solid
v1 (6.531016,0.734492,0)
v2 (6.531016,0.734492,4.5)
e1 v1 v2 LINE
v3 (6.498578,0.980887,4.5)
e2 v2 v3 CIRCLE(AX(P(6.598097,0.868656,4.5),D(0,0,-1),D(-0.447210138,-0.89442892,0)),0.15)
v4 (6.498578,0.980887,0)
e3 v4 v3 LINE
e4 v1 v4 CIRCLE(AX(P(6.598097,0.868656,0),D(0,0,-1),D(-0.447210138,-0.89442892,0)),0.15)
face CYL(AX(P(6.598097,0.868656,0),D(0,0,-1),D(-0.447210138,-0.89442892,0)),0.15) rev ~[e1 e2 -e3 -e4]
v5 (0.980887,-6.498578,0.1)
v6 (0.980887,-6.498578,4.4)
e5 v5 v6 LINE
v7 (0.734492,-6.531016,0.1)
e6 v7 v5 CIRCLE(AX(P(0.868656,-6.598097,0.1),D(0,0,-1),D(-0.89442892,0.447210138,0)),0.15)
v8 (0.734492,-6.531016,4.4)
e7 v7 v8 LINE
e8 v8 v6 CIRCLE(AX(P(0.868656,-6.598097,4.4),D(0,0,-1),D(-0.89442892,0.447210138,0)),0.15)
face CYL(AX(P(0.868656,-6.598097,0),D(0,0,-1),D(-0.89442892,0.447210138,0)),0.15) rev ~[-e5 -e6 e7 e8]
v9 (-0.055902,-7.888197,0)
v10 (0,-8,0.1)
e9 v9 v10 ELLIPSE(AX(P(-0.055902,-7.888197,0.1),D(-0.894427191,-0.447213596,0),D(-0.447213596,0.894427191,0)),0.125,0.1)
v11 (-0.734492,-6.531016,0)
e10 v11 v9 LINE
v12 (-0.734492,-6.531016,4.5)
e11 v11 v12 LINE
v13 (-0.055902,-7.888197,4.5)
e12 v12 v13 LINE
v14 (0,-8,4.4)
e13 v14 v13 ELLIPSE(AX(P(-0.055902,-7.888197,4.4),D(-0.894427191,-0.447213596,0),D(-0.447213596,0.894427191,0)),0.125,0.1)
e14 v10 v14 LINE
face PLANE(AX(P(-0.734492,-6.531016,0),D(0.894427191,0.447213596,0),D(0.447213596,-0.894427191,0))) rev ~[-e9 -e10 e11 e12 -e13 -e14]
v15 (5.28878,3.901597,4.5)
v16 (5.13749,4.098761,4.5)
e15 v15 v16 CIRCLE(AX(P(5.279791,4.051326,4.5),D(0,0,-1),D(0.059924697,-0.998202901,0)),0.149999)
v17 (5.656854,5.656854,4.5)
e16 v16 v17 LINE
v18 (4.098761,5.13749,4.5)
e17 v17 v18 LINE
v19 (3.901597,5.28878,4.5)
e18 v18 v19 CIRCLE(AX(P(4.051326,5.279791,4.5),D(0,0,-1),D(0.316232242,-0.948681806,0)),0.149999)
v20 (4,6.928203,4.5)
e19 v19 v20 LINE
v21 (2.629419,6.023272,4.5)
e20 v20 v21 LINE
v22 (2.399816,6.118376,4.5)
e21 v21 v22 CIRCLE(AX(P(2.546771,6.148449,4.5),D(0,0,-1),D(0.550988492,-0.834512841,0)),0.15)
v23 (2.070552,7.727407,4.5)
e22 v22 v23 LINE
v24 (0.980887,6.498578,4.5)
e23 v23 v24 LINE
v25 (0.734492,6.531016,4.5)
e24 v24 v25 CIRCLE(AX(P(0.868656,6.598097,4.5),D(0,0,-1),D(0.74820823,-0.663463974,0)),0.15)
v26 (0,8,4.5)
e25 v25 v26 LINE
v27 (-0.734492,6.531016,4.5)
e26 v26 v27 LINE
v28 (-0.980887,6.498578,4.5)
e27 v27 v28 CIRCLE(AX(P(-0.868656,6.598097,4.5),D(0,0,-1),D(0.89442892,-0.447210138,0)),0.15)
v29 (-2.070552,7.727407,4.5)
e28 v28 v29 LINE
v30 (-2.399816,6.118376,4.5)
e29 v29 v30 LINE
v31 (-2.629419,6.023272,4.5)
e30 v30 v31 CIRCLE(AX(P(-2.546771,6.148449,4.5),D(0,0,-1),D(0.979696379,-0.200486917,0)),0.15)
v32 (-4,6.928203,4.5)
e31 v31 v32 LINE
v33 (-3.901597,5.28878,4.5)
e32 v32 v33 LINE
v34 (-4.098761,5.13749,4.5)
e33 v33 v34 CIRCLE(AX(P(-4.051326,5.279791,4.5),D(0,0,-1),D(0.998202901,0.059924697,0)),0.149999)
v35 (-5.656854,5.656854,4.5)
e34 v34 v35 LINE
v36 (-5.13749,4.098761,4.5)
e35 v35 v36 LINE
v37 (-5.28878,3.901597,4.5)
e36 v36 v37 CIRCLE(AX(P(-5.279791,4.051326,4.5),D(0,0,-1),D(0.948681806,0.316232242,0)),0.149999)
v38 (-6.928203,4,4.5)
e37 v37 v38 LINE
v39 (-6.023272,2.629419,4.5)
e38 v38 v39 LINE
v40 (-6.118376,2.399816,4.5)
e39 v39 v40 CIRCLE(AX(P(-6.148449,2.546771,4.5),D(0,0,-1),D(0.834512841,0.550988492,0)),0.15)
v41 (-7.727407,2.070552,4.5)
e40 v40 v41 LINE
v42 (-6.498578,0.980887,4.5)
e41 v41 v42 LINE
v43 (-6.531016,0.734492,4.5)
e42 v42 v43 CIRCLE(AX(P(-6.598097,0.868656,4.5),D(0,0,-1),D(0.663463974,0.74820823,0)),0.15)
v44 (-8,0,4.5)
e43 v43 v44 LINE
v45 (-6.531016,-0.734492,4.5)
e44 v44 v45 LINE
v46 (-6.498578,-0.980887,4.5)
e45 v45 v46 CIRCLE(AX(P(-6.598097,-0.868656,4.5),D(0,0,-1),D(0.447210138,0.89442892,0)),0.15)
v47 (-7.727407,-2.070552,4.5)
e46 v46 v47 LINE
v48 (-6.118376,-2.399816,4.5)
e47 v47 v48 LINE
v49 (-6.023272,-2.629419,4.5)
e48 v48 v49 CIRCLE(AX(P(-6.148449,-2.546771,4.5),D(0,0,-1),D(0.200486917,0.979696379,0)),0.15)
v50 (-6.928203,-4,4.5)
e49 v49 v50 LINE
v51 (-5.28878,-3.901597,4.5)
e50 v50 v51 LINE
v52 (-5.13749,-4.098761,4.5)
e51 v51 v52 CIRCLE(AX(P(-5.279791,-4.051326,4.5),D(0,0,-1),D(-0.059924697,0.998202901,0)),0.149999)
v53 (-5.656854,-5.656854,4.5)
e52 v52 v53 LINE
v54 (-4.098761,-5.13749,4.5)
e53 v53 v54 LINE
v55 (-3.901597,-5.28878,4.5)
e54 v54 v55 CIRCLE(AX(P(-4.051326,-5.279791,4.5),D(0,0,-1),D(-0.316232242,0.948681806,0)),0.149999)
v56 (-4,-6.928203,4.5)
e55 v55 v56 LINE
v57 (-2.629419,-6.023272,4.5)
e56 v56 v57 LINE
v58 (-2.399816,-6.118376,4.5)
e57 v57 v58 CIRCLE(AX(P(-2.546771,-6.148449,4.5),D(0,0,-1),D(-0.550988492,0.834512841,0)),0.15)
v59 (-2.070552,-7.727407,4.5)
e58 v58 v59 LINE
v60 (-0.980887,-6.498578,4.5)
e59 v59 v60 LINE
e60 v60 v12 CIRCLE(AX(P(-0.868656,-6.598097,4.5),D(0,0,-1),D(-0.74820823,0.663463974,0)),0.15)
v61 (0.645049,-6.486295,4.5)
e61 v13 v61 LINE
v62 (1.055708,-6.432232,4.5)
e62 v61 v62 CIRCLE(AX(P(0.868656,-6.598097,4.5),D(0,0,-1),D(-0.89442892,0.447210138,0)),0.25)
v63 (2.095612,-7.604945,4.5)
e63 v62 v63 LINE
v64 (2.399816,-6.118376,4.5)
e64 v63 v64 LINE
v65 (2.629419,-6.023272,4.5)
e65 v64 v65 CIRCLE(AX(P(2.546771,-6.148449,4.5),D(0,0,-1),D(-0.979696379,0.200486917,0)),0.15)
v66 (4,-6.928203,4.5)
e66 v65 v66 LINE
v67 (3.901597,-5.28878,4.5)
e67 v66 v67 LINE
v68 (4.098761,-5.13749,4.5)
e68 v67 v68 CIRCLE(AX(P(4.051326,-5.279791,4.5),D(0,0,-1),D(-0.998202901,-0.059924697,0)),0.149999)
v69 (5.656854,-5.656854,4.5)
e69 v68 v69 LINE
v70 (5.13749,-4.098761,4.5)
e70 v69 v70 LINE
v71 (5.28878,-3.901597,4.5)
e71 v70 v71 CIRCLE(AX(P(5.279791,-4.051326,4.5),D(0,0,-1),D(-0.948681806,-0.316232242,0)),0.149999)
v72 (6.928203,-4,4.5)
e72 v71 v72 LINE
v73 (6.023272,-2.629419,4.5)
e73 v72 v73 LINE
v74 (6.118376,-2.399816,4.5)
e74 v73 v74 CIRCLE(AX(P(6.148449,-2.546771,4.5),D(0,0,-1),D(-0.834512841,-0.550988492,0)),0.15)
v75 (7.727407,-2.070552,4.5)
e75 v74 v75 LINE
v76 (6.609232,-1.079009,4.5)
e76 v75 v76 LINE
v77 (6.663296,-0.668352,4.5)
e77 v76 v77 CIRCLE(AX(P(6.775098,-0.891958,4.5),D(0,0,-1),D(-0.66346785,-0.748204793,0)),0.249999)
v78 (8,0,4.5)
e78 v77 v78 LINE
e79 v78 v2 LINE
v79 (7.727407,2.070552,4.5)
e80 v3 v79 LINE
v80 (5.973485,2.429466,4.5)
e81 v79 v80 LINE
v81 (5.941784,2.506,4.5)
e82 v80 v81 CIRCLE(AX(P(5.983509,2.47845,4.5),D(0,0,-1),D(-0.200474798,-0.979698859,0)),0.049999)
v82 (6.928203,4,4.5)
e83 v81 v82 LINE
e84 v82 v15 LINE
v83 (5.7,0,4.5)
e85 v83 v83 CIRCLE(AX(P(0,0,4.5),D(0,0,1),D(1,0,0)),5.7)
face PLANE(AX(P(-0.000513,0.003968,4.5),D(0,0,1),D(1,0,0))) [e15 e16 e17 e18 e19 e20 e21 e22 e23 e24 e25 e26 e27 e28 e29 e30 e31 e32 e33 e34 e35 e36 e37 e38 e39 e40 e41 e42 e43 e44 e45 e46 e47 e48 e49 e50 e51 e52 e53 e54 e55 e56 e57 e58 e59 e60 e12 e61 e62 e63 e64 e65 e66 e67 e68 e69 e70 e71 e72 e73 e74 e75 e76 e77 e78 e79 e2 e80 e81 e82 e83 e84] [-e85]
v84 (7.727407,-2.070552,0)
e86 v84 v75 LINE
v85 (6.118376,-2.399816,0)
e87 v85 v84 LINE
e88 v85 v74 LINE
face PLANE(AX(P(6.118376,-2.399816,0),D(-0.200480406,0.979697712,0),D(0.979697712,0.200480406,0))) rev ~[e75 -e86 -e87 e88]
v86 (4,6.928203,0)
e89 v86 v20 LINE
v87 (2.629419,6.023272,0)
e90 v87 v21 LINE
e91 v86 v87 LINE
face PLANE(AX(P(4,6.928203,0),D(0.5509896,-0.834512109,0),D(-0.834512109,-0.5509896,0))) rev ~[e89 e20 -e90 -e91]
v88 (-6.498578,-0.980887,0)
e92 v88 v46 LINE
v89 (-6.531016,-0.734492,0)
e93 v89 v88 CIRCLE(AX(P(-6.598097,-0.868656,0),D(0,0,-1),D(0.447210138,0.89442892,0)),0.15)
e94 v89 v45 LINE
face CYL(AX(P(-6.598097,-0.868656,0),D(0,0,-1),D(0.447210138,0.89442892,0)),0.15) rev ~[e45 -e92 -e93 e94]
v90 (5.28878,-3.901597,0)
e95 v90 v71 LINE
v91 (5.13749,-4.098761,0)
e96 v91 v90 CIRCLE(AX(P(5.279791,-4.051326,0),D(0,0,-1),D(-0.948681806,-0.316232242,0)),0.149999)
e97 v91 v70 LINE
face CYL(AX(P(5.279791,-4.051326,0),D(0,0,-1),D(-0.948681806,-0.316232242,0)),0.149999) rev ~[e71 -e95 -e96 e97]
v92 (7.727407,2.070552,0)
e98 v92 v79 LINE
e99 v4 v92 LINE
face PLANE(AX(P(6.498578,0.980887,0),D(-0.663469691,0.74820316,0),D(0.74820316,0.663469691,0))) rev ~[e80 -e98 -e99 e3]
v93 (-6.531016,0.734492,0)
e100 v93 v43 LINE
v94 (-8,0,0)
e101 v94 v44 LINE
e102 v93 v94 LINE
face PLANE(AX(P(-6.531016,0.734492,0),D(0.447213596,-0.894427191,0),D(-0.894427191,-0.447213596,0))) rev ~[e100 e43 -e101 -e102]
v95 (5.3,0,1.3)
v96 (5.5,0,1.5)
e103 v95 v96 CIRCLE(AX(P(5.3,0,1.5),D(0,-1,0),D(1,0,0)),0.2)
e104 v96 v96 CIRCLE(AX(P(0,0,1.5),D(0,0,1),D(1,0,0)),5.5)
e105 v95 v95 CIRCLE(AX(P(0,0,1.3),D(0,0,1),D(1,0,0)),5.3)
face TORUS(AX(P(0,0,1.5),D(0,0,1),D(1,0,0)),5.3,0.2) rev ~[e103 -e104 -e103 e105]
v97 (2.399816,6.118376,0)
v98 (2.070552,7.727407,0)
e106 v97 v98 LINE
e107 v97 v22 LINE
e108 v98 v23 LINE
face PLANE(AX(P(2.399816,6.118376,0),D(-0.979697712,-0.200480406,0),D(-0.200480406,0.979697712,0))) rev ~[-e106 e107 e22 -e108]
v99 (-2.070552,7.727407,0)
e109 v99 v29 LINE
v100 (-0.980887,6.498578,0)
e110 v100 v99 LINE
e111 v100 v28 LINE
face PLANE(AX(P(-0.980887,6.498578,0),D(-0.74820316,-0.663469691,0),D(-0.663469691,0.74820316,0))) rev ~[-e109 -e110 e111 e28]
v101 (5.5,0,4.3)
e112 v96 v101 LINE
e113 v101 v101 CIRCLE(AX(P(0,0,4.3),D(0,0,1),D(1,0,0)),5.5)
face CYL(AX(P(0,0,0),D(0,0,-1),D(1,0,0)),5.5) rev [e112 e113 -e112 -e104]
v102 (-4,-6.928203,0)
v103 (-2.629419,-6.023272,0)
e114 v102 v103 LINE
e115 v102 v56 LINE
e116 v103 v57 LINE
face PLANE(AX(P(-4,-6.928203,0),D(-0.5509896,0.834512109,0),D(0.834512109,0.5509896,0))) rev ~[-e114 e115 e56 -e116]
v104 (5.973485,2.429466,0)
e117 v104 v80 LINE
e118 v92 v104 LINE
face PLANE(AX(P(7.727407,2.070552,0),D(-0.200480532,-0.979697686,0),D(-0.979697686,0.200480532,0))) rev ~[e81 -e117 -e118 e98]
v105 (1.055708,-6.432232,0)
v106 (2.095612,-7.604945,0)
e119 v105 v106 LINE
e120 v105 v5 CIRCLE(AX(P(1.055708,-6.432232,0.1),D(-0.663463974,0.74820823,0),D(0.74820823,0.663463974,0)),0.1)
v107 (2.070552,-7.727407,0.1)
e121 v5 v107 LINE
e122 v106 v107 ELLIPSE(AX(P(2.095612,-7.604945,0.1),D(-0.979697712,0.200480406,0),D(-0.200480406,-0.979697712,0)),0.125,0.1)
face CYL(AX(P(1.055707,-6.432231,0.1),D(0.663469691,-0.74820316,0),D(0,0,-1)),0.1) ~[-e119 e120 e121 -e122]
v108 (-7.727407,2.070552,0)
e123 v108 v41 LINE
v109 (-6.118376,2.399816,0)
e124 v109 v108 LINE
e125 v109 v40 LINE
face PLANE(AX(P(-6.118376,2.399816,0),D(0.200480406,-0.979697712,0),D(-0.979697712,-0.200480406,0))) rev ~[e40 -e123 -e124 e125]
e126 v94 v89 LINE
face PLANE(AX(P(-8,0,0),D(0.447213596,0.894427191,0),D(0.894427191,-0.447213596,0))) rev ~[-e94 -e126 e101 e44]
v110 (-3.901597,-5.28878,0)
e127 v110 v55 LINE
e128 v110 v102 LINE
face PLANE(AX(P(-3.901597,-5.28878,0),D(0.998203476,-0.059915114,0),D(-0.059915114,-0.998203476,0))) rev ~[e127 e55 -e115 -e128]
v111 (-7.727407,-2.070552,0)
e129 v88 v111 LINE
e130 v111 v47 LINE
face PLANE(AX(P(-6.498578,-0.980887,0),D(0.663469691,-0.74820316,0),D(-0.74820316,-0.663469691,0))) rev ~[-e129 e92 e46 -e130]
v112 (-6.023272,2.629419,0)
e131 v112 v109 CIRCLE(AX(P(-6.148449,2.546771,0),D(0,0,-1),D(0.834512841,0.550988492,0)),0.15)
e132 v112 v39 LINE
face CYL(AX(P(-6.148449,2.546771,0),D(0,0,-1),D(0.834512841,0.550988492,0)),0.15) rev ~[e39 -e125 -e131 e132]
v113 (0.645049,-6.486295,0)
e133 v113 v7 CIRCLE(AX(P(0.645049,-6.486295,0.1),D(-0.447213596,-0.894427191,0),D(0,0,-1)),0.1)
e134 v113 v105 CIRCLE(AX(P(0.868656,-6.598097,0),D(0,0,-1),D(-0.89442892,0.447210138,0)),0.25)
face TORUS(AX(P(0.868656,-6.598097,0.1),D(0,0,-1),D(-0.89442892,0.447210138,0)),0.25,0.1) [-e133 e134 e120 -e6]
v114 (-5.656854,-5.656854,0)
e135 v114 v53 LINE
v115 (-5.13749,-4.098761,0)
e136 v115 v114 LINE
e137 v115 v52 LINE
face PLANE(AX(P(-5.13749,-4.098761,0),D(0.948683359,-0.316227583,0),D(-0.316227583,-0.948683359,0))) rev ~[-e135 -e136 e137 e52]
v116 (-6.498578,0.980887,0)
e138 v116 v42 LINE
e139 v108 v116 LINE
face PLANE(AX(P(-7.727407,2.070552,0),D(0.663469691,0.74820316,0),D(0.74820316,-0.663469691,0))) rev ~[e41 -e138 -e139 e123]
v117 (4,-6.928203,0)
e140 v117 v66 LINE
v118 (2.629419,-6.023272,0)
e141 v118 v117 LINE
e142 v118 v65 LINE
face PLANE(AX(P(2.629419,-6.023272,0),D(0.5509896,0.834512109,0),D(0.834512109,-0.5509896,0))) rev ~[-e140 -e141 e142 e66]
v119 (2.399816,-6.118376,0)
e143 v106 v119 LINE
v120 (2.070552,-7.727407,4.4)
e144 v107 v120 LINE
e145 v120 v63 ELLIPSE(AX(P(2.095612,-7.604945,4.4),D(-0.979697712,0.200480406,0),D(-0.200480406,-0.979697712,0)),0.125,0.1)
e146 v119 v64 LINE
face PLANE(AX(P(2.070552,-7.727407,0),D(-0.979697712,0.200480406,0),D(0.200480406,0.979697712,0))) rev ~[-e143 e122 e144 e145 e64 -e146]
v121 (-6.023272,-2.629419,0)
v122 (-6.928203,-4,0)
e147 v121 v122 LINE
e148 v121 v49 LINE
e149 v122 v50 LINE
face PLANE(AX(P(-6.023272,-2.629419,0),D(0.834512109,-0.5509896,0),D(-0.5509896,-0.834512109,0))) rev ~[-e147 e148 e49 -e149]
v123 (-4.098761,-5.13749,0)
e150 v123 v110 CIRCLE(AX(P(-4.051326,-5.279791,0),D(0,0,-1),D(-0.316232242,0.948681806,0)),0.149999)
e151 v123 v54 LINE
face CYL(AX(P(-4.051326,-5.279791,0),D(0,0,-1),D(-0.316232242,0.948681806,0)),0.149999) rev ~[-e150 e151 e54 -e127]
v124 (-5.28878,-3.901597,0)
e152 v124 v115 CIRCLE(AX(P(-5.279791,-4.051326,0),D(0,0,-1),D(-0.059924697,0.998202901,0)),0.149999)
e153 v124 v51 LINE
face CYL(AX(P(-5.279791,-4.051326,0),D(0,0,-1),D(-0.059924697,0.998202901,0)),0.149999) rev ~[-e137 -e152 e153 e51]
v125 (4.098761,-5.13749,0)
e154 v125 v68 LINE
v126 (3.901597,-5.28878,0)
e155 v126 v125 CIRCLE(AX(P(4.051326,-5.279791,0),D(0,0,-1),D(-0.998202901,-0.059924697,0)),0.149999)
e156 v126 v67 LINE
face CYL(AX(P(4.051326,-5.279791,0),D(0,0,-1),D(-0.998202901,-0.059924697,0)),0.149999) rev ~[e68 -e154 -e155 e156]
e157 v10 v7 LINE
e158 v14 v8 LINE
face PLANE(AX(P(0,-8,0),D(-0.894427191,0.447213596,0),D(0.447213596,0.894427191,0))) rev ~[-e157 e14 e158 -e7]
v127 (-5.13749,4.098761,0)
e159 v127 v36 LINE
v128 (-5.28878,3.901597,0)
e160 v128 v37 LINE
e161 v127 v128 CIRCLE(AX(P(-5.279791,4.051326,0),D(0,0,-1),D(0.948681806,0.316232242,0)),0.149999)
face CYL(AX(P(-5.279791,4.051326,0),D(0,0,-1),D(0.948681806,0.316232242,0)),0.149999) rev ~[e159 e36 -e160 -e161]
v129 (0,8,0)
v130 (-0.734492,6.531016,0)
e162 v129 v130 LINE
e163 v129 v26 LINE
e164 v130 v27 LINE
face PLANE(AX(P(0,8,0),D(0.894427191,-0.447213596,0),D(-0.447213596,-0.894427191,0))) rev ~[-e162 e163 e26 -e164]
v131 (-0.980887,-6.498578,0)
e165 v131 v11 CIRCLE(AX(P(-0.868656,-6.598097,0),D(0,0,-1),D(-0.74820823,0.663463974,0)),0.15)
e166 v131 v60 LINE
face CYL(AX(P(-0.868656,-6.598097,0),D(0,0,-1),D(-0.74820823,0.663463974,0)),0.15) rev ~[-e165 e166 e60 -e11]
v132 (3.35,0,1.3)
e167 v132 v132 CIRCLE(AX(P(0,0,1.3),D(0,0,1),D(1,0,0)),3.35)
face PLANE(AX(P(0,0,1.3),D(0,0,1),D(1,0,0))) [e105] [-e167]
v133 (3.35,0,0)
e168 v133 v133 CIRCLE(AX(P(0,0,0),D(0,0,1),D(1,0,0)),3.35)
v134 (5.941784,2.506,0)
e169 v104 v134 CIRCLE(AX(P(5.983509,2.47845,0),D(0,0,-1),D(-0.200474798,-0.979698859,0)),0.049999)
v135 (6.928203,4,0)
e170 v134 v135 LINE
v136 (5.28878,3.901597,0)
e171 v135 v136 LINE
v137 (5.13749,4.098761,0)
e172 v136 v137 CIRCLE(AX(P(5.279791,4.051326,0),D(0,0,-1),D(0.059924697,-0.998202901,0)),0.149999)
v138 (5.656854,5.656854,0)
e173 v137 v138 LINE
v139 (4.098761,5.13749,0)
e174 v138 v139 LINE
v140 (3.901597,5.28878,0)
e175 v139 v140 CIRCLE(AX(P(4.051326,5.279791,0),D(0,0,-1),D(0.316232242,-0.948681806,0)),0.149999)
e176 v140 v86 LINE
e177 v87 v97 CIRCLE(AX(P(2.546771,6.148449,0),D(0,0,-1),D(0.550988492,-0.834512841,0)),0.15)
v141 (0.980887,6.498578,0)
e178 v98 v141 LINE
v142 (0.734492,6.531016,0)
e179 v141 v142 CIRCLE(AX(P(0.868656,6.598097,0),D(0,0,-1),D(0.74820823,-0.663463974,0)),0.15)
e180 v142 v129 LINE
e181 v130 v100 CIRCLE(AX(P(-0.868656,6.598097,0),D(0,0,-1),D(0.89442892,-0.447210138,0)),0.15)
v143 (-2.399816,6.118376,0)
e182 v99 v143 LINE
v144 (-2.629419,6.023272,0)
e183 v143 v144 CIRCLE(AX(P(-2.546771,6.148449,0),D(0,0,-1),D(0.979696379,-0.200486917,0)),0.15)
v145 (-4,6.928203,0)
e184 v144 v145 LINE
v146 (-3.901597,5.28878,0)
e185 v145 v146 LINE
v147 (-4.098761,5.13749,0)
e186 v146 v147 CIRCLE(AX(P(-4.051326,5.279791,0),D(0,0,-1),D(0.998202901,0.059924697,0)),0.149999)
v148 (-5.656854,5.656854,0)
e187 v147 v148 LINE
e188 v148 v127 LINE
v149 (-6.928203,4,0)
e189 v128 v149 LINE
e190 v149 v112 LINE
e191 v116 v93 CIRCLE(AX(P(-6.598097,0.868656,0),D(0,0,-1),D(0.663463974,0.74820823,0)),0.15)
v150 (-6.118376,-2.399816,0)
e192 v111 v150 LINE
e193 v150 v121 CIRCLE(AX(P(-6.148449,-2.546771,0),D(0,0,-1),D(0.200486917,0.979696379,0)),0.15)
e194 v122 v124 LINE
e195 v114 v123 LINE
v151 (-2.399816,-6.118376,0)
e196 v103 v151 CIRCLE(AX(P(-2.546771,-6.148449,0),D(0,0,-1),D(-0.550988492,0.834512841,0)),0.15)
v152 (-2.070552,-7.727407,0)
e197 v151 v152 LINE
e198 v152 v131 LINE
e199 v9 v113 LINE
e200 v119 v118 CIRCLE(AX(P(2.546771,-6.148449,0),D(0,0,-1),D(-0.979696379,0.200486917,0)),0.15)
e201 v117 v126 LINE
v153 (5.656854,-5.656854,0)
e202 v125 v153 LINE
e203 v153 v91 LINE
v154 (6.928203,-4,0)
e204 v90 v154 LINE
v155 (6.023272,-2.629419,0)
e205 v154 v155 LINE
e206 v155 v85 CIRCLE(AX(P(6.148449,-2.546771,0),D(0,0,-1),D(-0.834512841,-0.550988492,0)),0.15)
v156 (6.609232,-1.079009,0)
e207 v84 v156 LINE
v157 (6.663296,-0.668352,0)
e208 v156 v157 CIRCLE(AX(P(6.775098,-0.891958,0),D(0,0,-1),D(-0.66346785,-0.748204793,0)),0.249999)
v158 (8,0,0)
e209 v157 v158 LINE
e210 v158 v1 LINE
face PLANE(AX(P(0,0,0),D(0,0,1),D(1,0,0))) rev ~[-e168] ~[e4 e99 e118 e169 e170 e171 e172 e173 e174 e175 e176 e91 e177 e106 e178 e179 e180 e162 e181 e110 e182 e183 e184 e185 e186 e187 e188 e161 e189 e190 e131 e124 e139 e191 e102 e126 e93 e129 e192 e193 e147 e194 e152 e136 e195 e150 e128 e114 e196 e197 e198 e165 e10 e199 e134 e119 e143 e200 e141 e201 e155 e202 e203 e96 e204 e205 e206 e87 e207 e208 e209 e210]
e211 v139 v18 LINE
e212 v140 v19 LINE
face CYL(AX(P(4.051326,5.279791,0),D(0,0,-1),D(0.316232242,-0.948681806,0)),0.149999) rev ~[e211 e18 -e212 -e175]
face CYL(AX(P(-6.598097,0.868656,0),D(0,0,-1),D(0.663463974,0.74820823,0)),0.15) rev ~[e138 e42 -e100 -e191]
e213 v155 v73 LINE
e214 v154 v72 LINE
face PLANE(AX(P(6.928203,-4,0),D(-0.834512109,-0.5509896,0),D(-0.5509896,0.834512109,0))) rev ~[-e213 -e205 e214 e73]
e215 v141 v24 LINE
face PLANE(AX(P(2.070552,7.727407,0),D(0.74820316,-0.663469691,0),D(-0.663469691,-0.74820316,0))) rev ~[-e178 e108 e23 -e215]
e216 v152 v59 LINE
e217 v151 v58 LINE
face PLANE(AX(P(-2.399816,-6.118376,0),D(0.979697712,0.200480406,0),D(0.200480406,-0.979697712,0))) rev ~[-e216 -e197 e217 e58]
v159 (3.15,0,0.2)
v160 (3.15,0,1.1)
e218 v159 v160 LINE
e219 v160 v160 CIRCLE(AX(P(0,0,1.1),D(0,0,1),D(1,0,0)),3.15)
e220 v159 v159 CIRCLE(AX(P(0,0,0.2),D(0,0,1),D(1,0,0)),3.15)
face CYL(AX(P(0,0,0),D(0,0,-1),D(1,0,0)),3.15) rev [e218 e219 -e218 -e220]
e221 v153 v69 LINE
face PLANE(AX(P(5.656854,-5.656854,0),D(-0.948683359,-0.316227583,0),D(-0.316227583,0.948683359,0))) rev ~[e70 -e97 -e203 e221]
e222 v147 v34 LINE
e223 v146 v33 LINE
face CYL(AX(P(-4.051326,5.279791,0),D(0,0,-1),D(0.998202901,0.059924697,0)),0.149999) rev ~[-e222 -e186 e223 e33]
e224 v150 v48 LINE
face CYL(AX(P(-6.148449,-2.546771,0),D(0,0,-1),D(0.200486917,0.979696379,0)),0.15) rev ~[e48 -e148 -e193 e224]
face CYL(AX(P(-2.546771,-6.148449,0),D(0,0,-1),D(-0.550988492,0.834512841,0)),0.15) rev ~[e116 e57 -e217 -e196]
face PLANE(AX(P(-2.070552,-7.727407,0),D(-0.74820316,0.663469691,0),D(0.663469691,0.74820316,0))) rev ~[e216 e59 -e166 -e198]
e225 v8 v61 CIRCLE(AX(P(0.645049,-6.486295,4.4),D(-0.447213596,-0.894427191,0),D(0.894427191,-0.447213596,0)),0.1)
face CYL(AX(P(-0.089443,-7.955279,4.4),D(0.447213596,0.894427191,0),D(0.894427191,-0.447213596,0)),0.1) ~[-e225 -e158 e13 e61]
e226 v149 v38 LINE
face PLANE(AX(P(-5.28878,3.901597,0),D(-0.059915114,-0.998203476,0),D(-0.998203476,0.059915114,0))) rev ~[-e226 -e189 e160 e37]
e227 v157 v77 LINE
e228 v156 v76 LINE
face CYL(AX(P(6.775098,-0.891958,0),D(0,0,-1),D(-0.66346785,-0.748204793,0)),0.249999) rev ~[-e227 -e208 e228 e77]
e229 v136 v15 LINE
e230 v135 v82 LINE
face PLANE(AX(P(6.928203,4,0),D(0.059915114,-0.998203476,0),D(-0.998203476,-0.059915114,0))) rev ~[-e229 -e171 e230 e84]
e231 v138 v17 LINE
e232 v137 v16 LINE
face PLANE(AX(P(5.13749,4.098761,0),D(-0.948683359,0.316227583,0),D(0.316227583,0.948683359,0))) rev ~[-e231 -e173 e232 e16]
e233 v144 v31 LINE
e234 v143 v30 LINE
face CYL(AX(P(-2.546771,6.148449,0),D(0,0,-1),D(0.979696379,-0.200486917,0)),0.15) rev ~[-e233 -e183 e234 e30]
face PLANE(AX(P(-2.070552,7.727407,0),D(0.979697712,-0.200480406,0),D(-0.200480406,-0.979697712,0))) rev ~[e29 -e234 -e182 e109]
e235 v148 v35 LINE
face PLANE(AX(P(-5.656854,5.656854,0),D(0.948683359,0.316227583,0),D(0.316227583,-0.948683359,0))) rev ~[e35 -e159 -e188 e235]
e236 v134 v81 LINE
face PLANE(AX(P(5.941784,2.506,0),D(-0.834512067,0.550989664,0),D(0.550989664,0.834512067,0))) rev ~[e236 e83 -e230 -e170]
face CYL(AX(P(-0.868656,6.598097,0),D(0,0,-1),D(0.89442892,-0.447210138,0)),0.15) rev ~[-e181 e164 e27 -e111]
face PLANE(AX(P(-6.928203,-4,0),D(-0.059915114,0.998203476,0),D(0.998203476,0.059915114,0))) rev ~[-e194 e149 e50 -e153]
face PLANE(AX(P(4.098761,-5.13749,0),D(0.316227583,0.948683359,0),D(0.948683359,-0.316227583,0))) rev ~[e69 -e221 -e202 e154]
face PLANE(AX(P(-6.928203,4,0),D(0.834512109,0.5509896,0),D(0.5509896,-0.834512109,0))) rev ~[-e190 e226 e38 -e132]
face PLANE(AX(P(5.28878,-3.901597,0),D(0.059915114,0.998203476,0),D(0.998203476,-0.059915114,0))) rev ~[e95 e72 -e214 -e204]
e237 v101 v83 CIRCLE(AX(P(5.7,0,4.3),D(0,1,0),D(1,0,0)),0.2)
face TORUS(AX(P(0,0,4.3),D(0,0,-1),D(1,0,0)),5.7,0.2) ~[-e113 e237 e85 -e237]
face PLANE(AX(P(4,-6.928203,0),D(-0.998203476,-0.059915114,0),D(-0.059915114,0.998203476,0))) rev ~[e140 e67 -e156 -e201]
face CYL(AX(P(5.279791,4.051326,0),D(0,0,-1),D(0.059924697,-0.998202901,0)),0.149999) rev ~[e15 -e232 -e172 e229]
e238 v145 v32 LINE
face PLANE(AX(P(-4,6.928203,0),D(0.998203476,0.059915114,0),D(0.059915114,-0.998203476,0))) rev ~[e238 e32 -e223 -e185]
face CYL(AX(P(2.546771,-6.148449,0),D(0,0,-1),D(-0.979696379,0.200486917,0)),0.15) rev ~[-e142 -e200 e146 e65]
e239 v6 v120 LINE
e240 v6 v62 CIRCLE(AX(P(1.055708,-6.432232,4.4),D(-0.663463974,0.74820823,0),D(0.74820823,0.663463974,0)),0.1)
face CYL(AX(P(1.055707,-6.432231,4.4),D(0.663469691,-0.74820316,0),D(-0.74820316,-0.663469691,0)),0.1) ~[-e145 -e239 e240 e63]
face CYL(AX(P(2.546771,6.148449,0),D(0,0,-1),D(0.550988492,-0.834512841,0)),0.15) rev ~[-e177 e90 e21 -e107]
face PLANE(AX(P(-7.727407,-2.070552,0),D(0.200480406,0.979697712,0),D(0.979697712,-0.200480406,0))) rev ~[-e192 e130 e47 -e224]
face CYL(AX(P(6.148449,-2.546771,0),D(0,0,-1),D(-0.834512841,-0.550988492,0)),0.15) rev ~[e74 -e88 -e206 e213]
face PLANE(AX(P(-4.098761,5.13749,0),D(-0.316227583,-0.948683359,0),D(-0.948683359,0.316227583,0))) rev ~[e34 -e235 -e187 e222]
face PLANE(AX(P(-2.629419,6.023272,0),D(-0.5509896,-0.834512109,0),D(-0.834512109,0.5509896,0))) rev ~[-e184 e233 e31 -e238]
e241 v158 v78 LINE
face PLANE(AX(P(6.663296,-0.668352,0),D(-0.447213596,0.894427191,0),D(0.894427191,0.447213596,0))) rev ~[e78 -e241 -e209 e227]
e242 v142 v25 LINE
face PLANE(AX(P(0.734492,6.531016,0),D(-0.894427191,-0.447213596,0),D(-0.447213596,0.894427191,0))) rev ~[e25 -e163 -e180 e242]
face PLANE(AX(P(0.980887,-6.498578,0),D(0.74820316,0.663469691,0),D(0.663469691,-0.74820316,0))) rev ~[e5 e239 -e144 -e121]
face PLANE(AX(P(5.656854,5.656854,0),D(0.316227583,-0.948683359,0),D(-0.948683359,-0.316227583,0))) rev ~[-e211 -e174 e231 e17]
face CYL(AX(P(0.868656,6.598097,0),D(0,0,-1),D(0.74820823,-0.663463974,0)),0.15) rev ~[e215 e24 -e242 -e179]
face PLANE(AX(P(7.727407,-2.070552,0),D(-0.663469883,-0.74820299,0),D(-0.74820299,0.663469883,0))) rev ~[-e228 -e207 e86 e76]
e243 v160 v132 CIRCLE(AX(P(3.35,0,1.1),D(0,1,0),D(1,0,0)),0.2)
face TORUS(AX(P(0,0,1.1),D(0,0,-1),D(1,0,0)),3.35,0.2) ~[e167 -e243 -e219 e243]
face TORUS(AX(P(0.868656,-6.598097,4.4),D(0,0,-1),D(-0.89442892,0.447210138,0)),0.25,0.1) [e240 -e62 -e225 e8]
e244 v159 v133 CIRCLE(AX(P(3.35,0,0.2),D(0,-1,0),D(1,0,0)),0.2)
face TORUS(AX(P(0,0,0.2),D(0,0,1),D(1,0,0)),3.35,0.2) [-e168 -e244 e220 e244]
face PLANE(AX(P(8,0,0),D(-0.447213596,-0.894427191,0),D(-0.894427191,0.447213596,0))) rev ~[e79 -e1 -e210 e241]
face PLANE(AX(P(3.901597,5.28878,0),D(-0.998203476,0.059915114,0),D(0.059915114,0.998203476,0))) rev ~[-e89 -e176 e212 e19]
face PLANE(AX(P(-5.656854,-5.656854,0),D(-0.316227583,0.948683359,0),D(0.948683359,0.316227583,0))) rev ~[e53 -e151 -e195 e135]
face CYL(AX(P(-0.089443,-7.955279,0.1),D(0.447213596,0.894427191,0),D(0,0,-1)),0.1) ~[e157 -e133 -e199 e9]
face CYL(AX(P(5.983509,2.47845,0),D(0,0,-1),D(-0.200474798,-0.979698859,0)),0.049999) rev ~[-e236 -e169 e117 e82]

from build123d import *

# Parameters (mm, degrees)
F0_R     = 5.5
F1_DEPTH = 4.5
F0_R_2   = 3.15
F2_DEPTH = 1.3
F3_R     = 0.2
F4_R     = 0.1


with BuildPart() as f1:
    # F0 (on Top) → F1 (new body)
    with BuildSketch(Plane.XY):
        with BuildLine():
            ThreePointArc((0.980887, 6.498578), (0.849077, 6.449381), (0.734492, 6.531016))
            Line((0.734492, 6.531016), (0, 8))
            Line((0, 8), (-0.734492, 6.531016))
            ThreePointArc((-0.734492, 6.531016), (-0.849077, 6.449381), (-0.980887, 6.498578))
            Line((-0.980887, 6.498578), (-2.070552, 7.727407))
            Line((-2.070552, 7.727407), (-2.399816, 6.118376))
            ThreePointArc((-2.399816, 6.118376), (-2.489368, 6.009867), (-2.629419, 6.023272))
            Line((-2.629419, 6.023272), (-4, 6.928203))
            Line((-4, 6.928203), (-3.901597, 5.28878))
            ThreePointArc((-3.901597, 5.28878), (-3.960013, 5.160789), (-4.098761, 5.13749))
            Line((-4.098761, 5.13749), (-5.656854, 5.656854))
            Line((-5.656854, 5.656854), (-5.13749, 4.098761))
            ThreePointArc((-5.13749, 4.098761), (-5.160789, 3.960013), (-5.28878, 3.901597))
            Line((-5.28878, 3.901597), (-6.928203, 4))
            Line((-6.928203, 4), (-6.023272, 2.629419))
            ThreePointArc((-6.023272, 2.629419), (-6.009867, 2.489368), (-6.118376, 2.399816))
            Line((-6.118376, 2.399816), (-7.727407, 2.070552))
            Line((-7.727407, 2.070552), (-6.498578, 0.980887))
            ThreePointArc((-6.498578, 0.980887), (-6.449381, 0.849077), (-6.531016, 0.734492))
            Line((-6.531016, 0.734492), (-8, 0))
            Line((-8, 0), (-6.531016, -0.734492))
            ThreePointArc((-6.531016, -0.734492), (-6.449381, -0.849077), (-6.498578, -0.980887))
            Line((-6.498578, -0.980887), (-7.727407, -2.070552))
            Line((-7.727407, -2.070552), (-6.118376, -2.399816))
            ThreePointArc((-6.118376, -2.399816), (-6.009867, -2.489368), (-6.023272, -2.629419))
            Line((-6.023272, -2.629419), (-6.928203, -4))
            Line((-6.928203, -4), (-5.28878, -3.901597))
            ThreePointArc((-5.28878, -3.901597), (-5.160789, -3.960013), (-5.13749, -4.098761))
            Line((-5.13749, -4.098761), (-5.656854, -5.656854))
            Line((-5.656854, -5.656854), (-4.098761, -5.13749))
            ThreePointArc((-4.098761, -5.13749), (-3.960013, -5.160789), (-3.901597, -5.28878))
            Line((-3.901597, -5.28878), (-4, -6.928203))
            Line((-4, -6.928203), (-2.629419, -6.023272))
            ThreePointArc((-2.629419, -6.023272), (-2.489368, -6.009867), (-2.399816, -6.118376))
            Line((-2.399816, -6.118376), (-2.070552, -7.727407))
            Line((-2.070552, -7.727407), (-0.980887, -6.498578))
            ThreePointArc((-0.980887, -6.498578), (-0.849077, -6.449381), (-0.734492, -6.531016))
            Line((-0.734492, -6.531016), (0, -8))
            Line((0, -8), (0.734492, -6.531016))
            ThreePointArc((0.734492, -6.531016), (0.849077, -6.449381), (0.980887, -6.498578))
            Line((0.980887, -6.498578), (2.070552, -7.727407))
            Line((2.070552, -7.727407), (2.399816, -6.118376))
            ThreePointArc((2.399816, -6.118376), (2.489368, -6.009867), (2.629419, -6.023272))
            Line((2.629419, -6.023272), (4, -6.928203))
            Line((4, -6.928203), (3.901597, -5.28878))
            ThreePointArc((3.901597, -5.28878), (3.960013, -5.160789), (4.098761, -5.13749))
            Line((4.098761, -5.13749), (5.656854, -5.656854))
            Line((5.656854, -5.656854), (5.13749, -4.098761))
            ThreePointArc((5.13749, -4.098761), (5.160789, -3.960013), (5.28878, -3.901597))
            Line((5.28878, -3.901597), (6.928203, -4))
            Line((6.928203, -4), (6.023272, -2.629419))
            ThreePointArc((6.023272, -2.629419), (6.009867, -2.489368), (6.118376, -2.399816))
            Line((6.118376, -2.399816), (7.727407, -2.070552))
            Line((7.727407, -2.070552), (6.609232, -1.079009))
            ThreePointArc((6.609232, -1.079009), (6.527238, -0.859327), (6.663296, -0.668352))
            Line((6.663296, -0.668352), (8, 0))
            Line((8, 0), (6.531016, 0.734492))
            ThreePointArc((6.531016, 0.734492), (6.449381, 0.849077), (6.498578, 0.980887))
            Line((6.498578, 0.980887), (7.727407, 2.070552))
            Line((7.727407, 2.070552), (5.973485, 2.429466))
            ThreePointArc((5.973485, 2.429466), (5.937315, 2.459317), (5.941784, 2.506))
            Line((5.941784, 2.506), (6.928203, 4))
            Line((6.928203, 4), (5.28878, 3.901597))
            ThreePointArc((5.28878, 3.901597), (5.160789, 3.960013), (5.13749, 4.098761))
            Line((5.13749, 4.098761), (5.656854, 5.656854))
            Line((5.656854, 5.656854), (4.098761, 5.13749))
            ThreePointArc((4.098761, 5.13749), (3.960013, 5.160789), (3.901597, 5.28878))
            Line((3.901597, 5.28878), (4, 6.928203))
            Line((4, 6.928203), (2.629419, 6.023272))
            ThreePointArc((2.629419, 6.023272), (2.489368, 6.009867), (2.399816, 6.118376))
            Line((2.399816, 6.118376), (2.070552, 7.727407))
            Line((2.070552, 7.727407), (0.980887, 6.498578))
        make_face()
        Circle(F0_R, mode=Mode.SUBTRACT)
    extrude(amount=F1_DEPTH)

    # F0 (on Top) → F2 (join)
    with BuildSketch(Plane.XY):
        Circle(F0_R)
        Circle(F0_R_2, mode=Mode.SUBTRACT)
    extrude(amount=F2_DEPTH)

    # F3
    f3_edges = [f1.edges().sort_by_distance(p)[0] for p in [
        (-3.15, 0, 1.3),
        (-5.5, 0, 1.3),
        (-5.5, 0, 4.5),
        (-3.15, 0, 0),
    ]]
    fillet(f3_edges, radius=F3_R)

    # F4
    f4_edges = [f1.edges().sort_by_distance(p)[0] for p in [
        (0.367246, -7.265508, 4.5),
        (0.367246, -7.265508, 0),
    ]]
    fillet(f4_edges, radius=F4_R)


solid = f1.part
